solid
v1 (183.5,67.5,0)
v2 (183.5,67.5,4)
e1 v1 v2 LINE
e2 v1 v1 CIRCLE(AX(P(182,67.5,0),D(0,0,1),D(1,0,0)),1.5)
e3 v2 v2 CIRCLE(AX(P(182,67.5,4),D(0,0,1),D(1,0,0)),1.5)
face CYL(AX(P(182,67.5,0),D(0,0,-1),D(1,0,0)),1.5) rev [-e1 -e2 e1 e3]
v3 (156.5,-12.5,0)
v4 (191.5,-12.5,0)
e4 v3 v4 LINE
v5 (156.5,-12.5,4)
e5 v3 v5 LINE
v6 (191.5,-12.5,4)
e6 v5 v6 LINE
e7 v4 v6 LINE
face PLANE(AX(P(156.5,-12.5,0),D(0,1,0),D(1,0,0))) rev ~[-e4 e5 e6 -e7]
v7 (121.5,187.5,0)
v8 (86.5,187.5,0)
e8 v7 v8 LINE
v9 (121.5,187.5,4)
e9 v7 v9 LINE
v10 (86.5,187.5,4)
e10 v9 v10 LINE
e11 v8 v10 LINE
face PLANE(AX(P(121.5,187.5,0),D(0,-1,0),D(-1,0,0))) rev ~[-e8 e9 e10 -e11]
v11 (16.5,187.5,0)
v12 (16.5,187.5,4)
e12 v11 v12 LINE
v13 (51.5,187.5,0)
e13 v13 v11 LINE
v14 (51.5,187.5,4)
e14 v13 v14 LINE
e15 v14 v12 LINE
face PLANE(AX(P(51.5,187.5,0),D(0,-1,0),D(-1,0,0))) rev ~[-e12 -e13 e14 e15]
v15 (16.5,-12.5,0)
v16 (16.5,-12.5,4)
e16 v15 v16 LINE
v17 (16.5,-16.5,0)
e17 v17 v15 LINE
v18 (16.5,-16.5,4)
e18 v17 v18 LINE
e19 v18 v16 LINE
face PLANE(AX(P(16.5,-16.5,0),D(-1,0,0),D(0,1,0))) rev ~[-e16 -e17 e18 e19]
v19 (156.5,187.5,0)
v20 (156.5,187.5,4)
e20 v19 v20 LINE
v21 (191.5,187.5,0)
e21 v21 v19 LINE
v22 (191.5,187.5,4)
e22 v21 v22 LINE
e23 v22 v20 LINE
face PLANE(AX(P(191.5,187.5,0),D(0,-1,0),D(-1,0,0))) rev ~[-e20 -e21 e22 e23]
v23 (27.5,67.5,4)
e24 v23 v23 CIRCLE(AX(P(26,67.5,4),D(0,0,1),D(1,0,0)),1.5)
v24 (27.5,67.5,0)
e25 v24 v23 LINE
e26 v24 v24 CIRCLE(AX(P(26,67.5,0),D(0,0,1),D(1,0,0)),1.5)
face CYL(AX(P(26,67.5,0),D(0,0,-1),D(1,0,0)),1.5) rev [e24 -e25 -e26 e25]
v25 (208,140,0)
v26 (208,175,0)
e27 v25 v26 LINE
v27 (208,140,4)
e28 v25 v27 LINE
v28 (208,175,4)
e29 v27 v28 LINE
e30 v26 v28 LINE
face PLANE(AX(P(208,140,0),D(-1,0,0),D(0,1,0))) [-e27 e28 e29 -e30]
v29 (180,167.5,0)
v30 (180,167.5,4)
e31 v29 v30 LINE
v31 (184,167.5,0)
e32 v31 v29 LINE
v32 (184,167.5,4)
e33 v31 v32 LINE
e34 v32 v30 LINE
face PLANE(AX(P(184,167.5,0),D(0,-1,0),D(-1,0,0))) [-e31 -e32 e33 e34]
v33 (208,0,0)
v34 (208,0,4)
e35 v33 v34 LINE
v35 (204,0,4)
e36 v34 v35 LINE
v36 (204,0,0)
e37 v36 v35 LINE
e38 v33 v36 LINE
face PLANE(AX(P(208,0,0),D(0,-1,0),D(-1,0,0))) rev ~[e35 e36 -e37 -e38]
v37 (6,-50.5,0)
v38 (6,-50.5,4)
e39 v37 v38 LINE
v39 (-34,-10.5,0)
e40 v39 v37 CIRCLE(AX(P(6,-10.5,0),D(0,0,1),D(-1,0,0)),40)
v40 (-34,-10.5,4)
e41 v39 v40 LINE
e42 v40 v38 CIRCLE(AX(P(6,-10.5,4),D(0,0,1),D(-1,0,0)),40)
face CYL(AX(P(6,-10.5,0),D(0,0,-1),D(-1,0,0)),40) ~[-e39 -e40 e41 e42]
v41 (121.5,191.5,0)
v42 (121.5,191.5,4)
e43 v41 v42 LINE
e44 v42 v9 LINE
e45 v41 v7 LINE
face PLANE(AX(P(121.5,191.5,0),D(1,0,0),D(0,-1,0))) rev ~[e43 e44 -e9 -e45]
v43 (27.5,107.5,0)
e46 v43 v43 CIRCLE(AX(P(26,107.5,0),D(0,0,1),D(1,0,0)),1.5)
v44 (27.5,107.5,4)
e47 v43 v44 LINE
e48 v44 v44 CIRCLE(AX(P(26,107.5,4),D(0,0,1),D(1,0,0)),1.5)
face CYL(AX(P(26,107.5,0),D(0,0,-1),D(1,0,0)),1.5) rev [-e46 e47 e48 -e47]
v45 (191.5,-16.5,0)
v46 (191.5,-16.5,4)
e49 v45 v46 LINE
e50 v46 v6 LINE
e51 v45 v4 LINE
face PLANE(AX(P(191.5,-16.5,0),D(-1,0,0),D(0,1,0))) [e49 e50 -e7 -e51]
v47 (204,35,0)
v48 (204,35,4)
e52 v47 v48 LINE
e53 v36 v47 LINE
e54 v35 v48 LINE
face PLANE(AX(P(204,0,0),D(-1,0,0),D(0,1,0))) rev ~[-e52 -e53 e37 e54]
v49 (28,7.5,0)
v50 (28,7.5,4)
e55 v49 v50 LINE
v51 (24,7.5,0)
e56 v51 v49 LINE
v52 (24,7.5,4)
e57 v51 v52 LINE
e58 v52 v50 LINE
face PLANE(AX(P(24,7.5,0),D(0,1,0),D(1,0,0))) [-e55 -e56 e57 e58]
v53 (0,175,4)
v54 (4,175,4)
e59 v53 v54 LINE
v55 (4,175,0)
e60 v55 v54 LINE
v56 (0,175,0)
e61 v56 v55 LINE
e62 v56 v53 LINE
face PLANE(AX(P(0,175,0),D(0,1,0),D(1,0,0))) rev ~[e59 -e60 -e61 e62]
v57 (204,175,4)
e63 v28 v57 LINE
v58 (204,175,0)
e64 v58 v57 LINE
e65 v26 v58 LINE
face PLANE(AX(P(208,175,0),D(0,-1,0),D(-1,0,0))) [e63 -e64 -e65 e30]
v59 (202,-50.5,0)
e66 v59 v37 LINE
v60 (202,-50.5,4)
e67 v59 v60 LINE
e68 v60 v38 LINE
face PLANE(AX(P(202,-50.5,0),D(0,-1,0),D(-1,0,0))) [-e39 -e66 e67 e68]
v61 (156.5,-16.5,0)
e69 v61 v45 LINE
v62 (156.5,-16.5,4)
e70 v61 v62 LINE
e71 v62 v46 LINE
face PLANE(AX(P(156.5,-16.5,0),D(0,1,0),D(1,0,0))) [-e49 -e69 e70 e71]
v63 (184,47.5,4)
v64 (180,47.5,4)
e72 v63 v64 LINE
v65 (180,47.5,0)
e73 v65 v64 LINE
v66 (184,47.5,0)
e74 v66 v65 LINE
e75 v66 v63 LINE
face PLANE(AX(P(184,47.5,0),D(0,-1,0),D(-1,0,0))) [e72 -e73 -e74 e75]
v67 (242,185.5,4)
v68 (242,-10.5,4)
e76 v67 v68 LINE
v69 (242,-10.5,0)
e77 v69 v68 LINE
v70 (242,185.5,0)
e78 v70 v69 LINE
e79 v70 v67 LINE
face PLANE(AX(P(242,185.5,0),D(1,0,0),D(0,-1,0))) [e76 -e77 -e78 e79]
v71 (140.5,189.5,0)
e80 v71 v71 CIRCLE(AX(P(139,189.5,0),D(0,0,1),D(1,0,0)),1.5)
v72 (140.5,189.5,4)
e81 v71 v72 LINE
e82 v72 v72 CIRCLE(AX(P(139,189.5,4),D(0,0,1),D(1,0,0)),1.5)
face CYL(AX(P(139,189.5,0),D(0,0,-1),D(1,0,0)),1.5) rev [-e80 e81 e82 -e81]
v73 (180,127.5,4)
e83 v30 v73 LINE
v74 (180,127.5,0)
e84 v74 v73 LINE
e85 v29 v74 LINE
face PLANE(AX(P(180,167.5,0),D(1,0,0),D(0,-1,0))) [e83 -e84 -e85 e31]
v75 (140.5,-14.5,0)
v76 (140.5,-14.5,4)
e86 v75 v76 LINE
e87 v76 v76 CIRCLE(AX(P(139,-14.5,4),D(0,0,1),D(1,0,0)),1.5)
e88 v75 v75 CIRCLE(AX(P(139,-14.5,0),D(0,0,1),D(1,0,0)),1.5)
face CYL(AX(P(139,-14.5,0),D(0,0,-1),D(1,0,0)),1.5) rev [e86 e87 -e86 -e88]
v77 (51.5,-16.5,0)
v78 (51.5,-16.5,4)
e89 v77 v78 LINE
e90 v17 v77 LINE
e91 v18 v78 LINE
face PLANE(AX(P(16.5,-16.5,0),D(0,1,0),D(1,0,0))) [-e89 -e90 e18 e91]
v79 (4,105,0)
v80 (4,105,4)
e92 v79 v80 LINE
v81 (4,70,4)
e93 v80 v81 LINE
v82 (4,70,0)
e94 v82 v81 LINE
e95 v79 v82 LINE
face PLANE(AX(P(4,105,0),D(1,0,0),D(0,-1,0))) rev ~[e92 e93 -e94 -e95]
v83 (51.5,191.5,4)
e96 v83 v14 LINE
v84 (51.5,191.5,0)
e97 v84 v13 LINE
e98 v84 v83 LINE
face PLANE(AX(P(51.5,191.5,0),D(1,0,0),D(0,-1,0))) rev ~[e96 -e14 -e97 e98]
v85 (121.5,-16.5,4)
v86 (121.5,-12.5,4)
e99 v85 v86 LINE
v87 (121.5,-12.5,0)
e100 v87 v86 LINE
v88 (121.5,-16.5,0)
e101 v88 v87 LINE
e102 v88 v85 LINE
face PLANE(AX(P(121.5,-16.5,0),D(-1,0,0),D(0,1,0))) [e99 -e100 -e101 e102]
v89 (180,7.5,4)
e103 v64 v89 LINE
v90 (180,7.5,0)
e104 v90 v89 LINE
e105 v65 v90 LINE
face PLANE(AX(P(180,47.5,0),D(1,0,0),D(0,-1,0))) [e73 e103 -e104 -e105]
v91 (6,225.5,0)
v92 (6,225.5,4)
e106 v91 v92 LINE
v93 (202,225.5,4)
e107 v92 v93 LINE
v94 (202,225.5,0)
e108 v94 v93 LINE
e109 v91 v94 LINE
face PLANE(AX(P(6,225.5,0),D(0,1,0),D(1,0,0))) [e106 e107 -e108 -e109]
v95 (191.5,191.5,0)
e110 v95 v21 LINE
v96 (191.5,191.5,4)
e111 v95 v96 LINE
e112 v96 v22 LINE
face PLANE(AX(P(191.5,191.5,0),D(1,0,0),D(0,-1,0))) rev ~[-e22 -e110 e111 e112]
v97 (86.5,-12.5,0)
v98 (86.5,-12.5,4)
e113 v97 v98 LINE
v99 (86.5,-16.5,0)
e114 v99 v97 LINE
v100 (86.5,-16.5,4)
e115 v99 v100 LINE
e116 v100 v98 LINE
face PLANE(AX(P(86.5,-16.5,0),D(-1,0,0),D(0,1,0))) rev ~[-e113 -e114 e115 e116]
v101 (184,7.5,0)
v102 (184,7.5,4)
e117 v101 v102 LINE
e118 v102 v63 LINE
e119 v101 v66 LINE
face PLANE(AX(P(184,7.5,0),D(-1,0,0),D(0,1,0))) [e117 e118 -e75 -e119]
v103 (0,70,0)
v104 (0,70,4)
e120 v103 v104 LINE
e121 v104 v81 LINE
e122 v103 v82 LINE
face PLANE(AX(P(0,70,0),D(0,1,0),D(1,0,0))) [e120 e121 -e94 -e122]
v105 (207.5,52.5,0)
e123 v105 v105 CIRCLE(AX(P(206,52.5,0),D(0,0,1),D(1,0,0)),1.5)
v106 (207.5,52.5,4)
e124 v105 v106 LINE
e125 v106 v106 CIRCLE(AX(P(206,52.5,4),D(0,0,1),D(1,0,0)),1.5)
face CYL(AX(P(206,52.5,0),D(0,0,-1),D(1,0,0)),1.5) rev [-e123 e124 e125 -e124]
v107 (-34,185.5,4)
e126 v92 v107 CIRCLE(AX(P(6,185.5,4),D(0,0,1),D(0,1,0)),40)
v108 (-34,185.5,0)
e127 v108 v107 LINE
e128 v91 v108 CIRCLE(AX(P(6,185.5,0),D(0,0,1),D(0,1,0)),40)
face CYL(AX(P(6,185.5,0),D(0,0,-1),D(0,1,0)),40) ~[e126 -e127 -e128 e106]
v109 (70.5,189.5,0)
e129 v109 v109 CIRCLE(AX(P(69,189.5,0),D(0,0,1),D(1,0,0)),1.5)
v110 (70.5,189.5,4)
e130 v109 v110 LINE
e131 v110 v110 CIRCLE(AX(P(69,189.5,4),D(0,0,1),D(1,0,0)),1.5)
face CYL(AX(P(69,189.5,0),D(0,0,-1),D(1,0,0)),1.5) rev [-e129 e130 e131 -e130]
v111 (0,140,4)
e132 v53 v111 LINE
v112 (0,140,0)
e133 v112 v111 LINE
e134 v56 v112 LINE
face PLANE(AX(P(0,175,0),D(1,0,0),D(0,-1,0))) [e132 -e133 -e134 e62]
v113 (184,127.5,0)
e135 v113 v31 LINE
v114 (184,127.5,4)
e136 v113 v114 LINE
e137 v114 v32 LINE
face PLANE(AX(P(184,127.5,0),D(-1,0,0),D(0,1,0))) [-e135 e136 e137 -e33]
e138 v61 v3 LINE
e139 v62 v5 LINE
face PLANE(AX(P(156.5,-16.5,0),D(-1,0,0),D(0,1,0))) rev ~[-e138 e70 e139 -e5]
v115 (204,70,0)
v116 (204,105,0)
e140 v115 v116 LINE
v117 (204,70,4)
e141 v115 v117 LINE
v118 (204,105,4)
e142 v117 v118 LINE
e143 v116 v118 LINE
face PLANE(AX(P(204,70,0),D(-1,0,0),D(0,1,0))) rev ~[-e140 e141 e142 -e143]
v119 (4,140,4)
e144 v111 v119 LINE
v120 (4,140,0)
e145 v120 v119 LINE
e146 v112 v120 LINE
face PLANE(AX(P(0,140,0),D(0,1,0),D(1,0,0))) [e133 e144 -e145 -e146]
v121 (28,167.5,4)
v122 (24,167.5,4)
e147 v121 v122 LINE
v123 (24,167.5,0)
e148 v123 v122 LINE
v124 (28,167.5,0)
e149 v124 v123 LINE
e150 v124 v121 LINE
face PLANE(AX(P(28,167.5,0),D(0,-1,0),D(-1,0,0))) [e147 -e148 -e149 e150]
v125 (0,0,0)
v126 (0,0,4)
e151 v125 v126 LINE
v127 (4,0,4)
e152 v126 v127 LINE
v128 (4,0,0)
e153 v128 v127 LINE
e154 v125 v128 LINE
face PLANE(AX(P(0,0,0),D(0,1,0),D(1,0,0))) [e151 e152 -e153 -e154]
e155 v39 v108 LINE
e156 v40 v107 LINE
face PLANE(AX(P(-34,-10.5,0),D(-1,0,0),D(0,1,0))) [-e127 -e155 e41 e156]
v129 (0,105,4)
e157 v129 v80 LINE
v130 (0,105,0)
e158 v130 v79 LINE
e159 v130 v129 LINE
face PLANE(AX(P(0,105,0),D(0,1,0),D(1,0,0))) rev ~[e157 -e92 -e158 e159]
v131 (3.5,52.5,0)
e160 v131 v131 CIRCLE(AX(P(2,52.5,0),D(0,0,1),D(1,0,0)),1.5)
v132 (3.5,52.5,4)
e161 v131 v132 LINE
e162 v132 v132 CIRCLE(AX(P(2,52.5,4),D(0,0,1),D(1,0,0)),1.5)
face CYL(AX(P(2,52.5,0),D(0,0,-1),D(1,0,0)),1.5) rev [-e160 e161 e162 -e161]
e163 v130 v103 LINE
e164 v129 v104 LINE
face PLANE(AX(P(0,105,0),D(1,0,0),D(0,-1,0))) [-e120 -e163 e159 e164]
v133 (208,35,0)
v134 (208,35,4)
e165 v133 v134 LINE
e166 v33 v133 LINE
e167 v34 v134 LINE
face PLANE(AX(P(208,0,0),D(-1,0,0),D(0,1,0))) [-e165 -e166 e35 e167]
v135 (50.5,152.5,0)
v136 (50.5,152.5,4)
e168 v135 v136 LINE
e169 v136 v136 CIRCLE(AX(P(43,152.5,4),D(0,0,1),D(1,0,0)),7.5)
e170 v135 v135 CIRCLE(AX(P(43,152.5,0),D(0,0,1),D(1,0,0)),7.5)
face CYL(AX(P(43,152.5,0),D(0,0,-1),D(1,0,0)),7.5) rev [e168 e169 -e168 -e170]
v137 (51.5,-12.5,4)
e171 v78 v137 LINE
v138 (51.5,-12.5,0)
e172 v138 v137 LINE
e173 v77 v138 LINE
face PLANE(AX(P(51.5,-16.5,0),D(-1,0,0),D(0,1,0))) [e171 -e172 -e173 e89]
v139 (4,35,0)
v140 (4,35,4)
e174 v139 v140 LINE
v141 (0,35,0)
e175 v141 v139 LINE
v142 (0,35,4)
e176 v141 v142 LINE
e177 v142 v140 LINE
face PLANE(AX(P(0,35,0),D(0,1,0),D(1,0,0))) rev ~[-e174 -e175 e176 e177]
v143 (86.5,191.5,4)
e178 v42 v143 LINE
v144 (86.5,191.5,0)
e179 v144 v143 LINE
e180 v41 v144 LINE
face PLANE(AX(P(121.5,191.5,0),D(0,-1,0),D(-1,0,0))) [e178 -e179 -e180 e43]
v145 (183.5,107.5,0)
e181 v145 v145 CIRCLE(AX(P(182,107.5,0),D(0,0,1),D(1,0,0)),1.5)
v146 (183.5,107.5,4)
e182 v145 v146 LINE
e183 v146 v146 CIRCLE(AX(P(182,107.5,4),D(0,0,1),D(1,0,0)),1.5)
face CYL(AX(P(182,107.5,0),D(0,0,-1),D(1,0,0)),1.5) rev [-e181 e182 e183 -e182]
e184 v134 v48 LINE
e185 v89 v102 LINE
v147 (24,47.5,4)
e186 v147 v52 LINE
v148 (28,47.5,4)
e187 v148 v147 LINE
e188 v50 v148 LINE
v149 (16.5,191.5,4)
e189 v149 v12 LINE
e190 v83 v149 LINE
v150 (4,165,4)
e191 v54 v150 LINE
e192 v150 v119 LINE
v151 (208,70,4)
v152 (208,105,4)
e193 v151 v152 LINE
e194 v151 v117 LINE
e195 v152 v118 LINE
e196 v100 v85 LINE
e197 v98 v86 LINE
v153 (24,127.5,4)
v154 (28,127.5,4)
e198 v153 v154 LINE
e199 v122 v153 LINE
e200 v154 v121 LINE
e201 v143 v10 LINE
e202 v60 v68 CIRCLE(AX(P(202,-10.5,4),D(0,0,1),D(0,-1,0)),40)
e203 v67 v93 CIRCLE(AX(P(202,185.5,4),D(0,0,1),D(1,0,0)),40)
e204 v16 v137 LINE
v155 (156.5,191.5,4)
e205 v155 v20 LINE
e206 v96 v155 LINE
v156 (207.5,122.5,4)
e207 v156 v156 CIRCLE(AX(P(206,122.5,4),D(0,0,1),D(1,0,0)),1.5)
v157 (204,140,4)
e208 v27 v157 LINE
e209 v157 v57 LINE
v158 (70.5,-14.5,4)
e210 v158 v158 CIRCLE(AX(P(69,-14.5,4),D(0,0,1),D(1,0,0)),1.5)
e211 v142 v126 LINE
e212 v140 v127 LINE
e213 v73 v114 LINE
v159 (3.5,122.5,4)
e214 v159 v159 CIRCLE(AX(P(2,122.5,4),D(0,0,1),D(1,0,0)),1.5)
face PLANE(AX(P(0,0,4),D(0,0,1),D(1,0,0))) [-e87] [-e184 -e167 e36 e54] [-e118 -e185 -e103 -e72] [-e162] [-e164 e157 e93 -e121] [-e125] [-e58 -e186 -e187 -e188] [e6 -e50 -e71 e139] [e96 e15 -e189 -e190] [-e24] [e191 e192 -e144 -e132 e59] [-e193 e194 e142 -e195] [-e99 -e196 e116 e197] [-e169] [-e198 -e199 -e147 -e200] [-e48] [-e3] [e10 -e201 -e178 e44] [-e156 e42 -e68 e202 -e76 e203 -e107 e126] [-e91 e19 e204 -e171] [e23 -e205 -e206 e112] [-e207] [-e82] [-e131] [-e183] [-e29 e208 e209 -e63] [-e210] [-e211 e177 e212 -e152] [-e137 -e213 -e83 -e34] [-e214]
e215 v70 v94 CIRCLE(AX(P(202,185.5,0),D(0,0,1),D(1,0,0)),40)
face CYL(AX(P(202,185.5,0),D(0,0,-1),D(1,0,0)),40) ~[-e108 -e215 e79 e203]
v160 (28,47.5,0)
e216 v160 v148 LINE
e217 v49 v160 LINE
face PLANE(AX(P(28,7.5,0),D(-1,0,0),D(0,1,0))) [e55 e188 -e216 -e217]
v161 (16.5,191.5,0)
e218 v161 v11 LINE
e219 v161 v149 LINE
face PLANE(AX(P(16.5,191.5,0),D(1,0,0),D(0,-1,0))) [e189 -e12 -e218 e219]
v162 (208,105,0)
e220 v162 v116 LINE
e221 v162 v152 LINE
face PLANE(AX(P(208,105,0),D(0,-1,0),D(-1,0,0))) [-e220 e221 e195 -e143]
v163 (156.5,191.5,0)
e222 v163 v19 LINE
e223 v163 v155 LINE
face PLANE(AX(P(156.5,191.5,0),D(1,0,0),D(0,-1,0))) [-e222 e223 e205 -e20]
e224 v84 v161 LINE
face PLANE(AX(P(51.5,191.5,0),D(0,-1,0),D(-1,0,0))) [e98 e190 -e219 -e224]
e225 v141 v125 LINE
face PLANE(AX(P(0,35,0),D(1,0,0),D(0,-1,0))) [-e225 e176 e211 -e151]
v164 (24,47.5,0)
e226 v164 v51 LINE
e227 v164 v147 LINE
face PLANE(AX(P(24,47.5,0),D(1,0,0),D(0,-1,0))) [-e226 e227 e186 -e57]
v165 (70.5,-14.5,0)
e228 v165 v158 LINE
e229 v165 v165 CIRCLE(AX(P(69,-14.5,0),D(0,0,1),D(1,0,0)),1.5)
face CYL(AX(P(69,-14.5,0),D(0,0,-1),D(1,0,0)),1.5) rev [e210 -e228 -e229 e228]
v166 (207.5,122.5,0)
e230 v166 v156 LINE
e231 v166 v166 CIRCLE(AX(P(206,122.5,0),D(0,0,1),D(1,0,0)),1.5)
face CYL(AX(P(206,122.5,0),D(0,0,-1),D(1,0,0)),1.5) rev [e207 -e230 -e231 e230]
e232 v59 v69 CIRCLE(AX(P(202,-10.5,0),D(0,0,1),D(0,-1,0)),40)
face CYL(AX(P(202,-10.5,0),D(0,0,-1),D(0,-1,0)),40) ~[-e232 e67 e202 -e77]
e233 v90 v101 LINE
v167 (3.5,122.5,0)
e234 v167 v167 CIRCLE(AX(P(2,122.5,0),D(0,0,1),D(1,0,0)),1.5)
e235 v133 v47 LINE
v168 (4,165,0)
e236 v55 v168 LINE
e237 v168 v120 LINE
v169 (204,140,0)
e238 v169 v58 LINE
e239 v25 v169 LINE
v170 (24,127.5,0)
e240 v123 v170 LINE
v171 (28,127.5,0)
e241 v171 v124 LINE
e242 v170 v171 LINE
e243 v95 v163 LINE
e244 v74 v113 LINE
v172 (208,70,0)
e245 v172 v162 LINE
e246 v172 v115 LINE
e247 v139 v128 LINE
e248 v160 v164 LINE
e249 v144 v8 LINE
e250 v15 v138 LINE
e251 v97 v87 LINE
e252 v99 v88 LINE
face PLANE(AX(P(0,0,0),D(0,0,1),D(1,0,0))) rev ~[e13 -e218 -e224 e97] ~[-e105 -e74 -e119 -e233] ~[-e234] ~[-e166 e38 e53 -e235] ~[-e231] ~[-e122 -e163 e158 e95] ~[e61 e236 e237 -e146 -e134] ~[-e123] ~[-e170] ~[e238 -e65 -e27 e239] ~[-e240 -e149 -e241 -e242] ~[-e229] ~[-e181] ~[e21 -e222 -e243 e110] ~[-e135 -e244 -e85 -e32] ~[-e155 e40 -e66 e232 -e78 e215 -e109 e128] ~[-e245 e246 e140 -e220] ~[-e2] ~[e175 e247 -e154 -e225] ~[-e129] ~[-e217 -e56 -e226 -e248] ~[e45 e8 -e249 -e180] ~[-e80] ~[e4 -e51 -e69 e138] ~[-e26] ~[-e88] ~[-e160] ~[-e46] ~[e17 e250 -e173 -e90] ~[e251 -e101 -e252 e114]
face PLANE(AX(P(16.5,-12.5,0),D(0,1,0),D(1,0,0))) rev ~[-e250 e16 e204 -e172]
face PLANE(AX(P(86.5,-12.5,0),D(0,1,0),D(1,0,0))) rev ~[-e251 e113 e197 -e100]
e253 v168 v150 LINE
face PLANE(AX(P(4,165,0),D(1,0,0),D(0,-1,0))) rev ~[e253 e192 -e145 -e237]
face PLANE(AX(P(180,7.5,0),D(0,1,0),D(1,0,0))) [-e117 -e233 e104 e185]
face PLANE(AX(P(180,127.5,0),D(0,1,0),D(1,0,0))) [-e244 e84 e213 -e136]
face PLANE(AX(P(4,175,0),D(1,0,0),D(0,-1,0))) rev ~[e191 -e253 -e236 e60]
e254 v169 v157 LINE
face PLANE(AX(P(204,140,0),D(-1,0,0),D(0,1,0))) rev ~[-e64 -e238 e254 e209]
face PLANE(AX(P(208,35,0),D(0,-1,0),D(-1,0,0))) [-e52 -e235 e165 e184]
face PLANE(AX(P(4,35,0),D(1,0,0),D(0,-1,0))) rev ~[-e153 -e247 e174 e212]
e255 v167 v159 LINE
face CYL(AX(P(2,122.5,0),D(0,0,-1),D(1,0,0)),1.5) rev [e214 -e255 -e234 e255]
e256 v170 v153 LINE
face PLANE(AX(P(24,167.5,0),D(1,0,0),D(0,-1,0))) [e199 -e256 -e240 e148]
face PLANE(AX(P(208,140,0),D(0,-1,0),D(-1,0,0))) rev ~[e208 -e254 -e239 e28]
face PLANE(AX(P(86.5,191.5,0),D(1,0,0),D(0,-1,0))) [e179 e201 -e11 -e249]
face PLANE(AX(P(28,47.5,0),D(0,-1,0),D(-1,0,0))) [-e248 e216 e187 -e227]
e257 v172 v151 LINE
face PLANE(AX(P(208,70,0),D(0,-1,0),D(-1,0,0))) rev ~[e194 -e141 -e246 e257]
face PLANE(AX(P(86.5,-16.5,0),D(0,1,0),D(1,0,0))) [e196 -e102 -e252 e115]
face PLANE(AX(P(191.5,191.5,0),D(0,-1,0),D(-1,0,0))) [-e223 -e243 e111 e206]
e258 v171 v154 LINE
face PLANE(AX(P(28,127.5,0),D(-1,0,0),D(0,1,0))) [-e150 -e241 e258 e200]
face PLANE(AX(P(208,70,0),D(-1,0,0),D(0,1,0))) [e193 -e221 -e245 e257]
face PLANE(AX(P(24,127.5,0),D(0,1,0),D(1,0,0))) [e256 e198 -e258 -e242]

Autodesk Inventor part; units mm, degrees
ref_plane "YZ Plane" through (0, 0, 0) normal (1, 0, 0) x (0, 1, 0)
ref_plane "XZ Plane" through (0, 0, 0) normal (0, 1, 0) x (-1, 0, 0)
ref_plane "XY Plane" through (0, 0, 0) normal (0, 0, 1) x (1, 0, 0)
sketch "Sketch1" plane through (0, 0, 0) normal (0, 0, 1) x (1, 0, 0)
  line L0 (6, 225.5) -> (202, 225.5)
  line L1 (242, 185.5) -> (242, -10.5)
  line L2 (202, -50.5) -> (6, -50.5)
  line L3 (-34, -10.5) -> (-34, 185.5)
  line L4 (208, 237.5) -> (0, 237.5) construction
  line L5 (-46, 191.5) -> (-46, -16.5) construction
  arc A0 (0, 237.5) -> (-46, 191.5) centre (0, 191.5) ccw construction
  arc A1 (6, 225.5) -> (-34, 185.5) centre (6, 185.5) ccw
  arc A2 (242, 185.5) -> (202, 225.5) centre (202, 185.5) ccw
  arc A3 (202, -50.5) -> (242, -10.5) centre (202, -10.5) ccw
  arc A4 (-34, -10.5) -> (6, -50.5) centre (6, -10.5) ccw
  line L6 (51.5, 191.5) -> (16.5, 191.5) projected
  line L7 (16.5, 191.5) -> (16.5, 187.5) projected
  line L8 (51.5, 187.5) -> (16.5, 187.5) projected
  line L9 (51.5, 191.5) -> (51.5, 187.5) projected
  line L10 (121.5, 191.5) -> (86.5, 191.5) projected
  line L11 (86.5, 191.5) -> (86.5, 187.5) projected
  line L12 (121.5, 187.5) -> (86.5, 187.5) projected
  line L13 (121.5, 191.5) -> (121.5, 187.5) projected
  line L14 (191.5, 191.5) -> (156.5, 191.5) projected
  line L15 (156.5, 191.5) -> (156.5, 187.5) projected
  line L16 (191.5, 187.5) -> (156.5, 187.5) projected
  line L17 (191.5, 191.5) -> (191.5, 187.5) projected
  line L18 (208, 140) -> (208, 175) projected
  line L19 (208, 175) -> (204, 175) projected
  line L20 (204, 140) -> (204, 175) projected
  line L21 (208, 140) -> (204, 140) projected
  line L22 (208, 70) -> (208, 105) projected
  line L23 (208, 105) -> (204, 105) projected
  line L24 (204, 70) -> (204, 105) projected
  line L25 (208, 70) -> (204, 70) projected
  line L26 (208, 0) -> (208, 35) projected
  line L27 (208, 35) -> (204, 35) projected
  line L28 (204, 0) -> (204, 35) projected
  line L29 (208, 0) -> (204, 0) projected
  line L30 (156.5, -16.5) -> (191.5, -16.5) projected
  line L31 (191.5, -16.5) -> (191.5, -12.5) projected
  line L32 (156.5, -12.5) -> (191.5, -12.5) projected
  line L33 (156.5, -16.5) -> (156.5, -12.5) projected
  line L34 (86.5, -16.5) -> (121.5, -16.5) projected
  line L35 (121.5, -16.5) -> (121.5, -12.5) projected
  line L36 (86.5, -12.5) -> (121.5, -12.5) projected
  line L37 (86.5, -16.5) -> (86.5, -12.5) projected
  line L38 (16.5, -16.5) -> (51.5, -16.5) projected
  line L39 (51.5, -16.5) -> (51.5, -12.5) projected
  line L40 (16.5, -12.5) -> (51.5, -12.5) projected
  line L41 (16.5, -16.5) -> (16.5, -12.5) projected
  line L42 (0, 35) -> (0, 0) projected
  line L43 (0, 0) -> (4, 0) projected
  line L44 (4, 35) -> (4, 0) projected
  line L45 (0, 35) -> (4, 35) projected
  line L46 (0, 105) -> (0, 70) projected
  line L47 (0, 70) -> (4, 70) projected
  line L48 (4, 105) -> (4, 70) projected
  line L49 (0, 105) -> (4, 105) projected
  line L50 (0, 175) -> (0, 140) projected
  line L51 (0, 140) -> (4, 140) projected
  line L52 (4, 175) -> (4, 140) projected
  line L53 (0, 175) -> (4, 175) projected
  circle A5 centre (43, 152.5) radius 7.5
  line L54 (4, 180) -> (4, 165) projected
  line L55 (24, 7.5) -> (28, 7.5)
  line L56 (28, 7.5) -> (28, 47.5)
  line L57 (28, 47.5) -> (24, 47.5)
  line L58 (24, 47.5) -> (24, 7.5)
  line L59 (180, 7.5) -> (184, 7.5)
  line L60 (184, 7.5) -> (184, 47.5)
  line L61 (184, 47.5) -> (180, 47.5)
  line L62 (180, 47.5) -> (180, 7.5)
  line L63 (180, 127.5) -> (184, 127.5)
  line L64 (184, 127.5) -> (184, 167.5)
  line L65 (184, 167.5) -> (180, 167.5)
  line L66 (180, 167.5) -> (180, 127.5)
  line L67 (24, 127.5) -> (28, 127.5)
  line L68 (28, 127.5) -> (28, 167.5)
  line L69 (28, 167.5) -> (24, 167.5)
  line L70 (24, 167.5) -> (24, 127.5)
  line L71 (104, 187.5) -> (104, -12.5) construction
  circle A6 centre (26, 107.5) radius 1.5
  circle A7 centre (26, 67.5) radius 1.5
  circle A8 centre (182, 107.5) radius 1.5
  circle A9 centre (182, 67.5) radius 1.5
  line L72 (26, 127.5) -> (26, 107.5) construction
  line L73 (26, 67.5) -> (26, 47.5) construction
  line L74 (26, 107.5) -> (26, 87.5) construction
  line L75 (26, 87.5) -> (26, 67.5) construction
  line L76 (51.5, 191.5) -> (86.5, 187.5) construction
  line L77 (121.5, 187.5) -> (156.5, 191.5) construction
  circle A10 centre (69, 189.5) radius 1.5
  circle A11 centre (139, 189.5) radius 1.5
  circle A12 centre (2, 122.5) radius 1.5
  circle A13 centre (2, 52.5) radius 1.5
  circle A14 centre (69, -14.5) radius 1.5
  circle A15 centre (139, -14.5) radius 1.5
  circle A16 centre (206, 52.5) radius 1.5
  circle A17 centre (206, 122.5) radius 1.5
  point P0 (104, 237.5)
  point P1 (104, 225.5)
  point P2 (-34, 87.5)
  point P3 (-46, 87.5)
  point P4 (-24, 191.5)
  point P5 (4, 172.5)
  point P6 (182, 127.5)
  point P7 (182, 47.5)
  point P8 (104, 87.5)
  dimension "d0" = 10
  dimension "d2" = 40
  dimension "d4" = 15
  dimension "d6" = 4
  dimension "d7" = 40
  dimension "d9" = 20
  dimension "d10" = 4
  dimension "d11" = 40
  dimension "d12" = 4
  dimension "d13" = 40
  dimension "d14" = 4
  dimension "d15" = 40
  dimension "d16" = 20
  dimension "d17" = 15
  dimension "d18" = 15
  dimension "d19" = 20
  dimension "d22" = 3
  dimension "d24" = 3
  dimension "d27" = 360
extrude "Extrusion1" add sketch "Sketch1" along normal blind 4
properties part number "Cover" material "MDF Medium Density Fiberboard"
